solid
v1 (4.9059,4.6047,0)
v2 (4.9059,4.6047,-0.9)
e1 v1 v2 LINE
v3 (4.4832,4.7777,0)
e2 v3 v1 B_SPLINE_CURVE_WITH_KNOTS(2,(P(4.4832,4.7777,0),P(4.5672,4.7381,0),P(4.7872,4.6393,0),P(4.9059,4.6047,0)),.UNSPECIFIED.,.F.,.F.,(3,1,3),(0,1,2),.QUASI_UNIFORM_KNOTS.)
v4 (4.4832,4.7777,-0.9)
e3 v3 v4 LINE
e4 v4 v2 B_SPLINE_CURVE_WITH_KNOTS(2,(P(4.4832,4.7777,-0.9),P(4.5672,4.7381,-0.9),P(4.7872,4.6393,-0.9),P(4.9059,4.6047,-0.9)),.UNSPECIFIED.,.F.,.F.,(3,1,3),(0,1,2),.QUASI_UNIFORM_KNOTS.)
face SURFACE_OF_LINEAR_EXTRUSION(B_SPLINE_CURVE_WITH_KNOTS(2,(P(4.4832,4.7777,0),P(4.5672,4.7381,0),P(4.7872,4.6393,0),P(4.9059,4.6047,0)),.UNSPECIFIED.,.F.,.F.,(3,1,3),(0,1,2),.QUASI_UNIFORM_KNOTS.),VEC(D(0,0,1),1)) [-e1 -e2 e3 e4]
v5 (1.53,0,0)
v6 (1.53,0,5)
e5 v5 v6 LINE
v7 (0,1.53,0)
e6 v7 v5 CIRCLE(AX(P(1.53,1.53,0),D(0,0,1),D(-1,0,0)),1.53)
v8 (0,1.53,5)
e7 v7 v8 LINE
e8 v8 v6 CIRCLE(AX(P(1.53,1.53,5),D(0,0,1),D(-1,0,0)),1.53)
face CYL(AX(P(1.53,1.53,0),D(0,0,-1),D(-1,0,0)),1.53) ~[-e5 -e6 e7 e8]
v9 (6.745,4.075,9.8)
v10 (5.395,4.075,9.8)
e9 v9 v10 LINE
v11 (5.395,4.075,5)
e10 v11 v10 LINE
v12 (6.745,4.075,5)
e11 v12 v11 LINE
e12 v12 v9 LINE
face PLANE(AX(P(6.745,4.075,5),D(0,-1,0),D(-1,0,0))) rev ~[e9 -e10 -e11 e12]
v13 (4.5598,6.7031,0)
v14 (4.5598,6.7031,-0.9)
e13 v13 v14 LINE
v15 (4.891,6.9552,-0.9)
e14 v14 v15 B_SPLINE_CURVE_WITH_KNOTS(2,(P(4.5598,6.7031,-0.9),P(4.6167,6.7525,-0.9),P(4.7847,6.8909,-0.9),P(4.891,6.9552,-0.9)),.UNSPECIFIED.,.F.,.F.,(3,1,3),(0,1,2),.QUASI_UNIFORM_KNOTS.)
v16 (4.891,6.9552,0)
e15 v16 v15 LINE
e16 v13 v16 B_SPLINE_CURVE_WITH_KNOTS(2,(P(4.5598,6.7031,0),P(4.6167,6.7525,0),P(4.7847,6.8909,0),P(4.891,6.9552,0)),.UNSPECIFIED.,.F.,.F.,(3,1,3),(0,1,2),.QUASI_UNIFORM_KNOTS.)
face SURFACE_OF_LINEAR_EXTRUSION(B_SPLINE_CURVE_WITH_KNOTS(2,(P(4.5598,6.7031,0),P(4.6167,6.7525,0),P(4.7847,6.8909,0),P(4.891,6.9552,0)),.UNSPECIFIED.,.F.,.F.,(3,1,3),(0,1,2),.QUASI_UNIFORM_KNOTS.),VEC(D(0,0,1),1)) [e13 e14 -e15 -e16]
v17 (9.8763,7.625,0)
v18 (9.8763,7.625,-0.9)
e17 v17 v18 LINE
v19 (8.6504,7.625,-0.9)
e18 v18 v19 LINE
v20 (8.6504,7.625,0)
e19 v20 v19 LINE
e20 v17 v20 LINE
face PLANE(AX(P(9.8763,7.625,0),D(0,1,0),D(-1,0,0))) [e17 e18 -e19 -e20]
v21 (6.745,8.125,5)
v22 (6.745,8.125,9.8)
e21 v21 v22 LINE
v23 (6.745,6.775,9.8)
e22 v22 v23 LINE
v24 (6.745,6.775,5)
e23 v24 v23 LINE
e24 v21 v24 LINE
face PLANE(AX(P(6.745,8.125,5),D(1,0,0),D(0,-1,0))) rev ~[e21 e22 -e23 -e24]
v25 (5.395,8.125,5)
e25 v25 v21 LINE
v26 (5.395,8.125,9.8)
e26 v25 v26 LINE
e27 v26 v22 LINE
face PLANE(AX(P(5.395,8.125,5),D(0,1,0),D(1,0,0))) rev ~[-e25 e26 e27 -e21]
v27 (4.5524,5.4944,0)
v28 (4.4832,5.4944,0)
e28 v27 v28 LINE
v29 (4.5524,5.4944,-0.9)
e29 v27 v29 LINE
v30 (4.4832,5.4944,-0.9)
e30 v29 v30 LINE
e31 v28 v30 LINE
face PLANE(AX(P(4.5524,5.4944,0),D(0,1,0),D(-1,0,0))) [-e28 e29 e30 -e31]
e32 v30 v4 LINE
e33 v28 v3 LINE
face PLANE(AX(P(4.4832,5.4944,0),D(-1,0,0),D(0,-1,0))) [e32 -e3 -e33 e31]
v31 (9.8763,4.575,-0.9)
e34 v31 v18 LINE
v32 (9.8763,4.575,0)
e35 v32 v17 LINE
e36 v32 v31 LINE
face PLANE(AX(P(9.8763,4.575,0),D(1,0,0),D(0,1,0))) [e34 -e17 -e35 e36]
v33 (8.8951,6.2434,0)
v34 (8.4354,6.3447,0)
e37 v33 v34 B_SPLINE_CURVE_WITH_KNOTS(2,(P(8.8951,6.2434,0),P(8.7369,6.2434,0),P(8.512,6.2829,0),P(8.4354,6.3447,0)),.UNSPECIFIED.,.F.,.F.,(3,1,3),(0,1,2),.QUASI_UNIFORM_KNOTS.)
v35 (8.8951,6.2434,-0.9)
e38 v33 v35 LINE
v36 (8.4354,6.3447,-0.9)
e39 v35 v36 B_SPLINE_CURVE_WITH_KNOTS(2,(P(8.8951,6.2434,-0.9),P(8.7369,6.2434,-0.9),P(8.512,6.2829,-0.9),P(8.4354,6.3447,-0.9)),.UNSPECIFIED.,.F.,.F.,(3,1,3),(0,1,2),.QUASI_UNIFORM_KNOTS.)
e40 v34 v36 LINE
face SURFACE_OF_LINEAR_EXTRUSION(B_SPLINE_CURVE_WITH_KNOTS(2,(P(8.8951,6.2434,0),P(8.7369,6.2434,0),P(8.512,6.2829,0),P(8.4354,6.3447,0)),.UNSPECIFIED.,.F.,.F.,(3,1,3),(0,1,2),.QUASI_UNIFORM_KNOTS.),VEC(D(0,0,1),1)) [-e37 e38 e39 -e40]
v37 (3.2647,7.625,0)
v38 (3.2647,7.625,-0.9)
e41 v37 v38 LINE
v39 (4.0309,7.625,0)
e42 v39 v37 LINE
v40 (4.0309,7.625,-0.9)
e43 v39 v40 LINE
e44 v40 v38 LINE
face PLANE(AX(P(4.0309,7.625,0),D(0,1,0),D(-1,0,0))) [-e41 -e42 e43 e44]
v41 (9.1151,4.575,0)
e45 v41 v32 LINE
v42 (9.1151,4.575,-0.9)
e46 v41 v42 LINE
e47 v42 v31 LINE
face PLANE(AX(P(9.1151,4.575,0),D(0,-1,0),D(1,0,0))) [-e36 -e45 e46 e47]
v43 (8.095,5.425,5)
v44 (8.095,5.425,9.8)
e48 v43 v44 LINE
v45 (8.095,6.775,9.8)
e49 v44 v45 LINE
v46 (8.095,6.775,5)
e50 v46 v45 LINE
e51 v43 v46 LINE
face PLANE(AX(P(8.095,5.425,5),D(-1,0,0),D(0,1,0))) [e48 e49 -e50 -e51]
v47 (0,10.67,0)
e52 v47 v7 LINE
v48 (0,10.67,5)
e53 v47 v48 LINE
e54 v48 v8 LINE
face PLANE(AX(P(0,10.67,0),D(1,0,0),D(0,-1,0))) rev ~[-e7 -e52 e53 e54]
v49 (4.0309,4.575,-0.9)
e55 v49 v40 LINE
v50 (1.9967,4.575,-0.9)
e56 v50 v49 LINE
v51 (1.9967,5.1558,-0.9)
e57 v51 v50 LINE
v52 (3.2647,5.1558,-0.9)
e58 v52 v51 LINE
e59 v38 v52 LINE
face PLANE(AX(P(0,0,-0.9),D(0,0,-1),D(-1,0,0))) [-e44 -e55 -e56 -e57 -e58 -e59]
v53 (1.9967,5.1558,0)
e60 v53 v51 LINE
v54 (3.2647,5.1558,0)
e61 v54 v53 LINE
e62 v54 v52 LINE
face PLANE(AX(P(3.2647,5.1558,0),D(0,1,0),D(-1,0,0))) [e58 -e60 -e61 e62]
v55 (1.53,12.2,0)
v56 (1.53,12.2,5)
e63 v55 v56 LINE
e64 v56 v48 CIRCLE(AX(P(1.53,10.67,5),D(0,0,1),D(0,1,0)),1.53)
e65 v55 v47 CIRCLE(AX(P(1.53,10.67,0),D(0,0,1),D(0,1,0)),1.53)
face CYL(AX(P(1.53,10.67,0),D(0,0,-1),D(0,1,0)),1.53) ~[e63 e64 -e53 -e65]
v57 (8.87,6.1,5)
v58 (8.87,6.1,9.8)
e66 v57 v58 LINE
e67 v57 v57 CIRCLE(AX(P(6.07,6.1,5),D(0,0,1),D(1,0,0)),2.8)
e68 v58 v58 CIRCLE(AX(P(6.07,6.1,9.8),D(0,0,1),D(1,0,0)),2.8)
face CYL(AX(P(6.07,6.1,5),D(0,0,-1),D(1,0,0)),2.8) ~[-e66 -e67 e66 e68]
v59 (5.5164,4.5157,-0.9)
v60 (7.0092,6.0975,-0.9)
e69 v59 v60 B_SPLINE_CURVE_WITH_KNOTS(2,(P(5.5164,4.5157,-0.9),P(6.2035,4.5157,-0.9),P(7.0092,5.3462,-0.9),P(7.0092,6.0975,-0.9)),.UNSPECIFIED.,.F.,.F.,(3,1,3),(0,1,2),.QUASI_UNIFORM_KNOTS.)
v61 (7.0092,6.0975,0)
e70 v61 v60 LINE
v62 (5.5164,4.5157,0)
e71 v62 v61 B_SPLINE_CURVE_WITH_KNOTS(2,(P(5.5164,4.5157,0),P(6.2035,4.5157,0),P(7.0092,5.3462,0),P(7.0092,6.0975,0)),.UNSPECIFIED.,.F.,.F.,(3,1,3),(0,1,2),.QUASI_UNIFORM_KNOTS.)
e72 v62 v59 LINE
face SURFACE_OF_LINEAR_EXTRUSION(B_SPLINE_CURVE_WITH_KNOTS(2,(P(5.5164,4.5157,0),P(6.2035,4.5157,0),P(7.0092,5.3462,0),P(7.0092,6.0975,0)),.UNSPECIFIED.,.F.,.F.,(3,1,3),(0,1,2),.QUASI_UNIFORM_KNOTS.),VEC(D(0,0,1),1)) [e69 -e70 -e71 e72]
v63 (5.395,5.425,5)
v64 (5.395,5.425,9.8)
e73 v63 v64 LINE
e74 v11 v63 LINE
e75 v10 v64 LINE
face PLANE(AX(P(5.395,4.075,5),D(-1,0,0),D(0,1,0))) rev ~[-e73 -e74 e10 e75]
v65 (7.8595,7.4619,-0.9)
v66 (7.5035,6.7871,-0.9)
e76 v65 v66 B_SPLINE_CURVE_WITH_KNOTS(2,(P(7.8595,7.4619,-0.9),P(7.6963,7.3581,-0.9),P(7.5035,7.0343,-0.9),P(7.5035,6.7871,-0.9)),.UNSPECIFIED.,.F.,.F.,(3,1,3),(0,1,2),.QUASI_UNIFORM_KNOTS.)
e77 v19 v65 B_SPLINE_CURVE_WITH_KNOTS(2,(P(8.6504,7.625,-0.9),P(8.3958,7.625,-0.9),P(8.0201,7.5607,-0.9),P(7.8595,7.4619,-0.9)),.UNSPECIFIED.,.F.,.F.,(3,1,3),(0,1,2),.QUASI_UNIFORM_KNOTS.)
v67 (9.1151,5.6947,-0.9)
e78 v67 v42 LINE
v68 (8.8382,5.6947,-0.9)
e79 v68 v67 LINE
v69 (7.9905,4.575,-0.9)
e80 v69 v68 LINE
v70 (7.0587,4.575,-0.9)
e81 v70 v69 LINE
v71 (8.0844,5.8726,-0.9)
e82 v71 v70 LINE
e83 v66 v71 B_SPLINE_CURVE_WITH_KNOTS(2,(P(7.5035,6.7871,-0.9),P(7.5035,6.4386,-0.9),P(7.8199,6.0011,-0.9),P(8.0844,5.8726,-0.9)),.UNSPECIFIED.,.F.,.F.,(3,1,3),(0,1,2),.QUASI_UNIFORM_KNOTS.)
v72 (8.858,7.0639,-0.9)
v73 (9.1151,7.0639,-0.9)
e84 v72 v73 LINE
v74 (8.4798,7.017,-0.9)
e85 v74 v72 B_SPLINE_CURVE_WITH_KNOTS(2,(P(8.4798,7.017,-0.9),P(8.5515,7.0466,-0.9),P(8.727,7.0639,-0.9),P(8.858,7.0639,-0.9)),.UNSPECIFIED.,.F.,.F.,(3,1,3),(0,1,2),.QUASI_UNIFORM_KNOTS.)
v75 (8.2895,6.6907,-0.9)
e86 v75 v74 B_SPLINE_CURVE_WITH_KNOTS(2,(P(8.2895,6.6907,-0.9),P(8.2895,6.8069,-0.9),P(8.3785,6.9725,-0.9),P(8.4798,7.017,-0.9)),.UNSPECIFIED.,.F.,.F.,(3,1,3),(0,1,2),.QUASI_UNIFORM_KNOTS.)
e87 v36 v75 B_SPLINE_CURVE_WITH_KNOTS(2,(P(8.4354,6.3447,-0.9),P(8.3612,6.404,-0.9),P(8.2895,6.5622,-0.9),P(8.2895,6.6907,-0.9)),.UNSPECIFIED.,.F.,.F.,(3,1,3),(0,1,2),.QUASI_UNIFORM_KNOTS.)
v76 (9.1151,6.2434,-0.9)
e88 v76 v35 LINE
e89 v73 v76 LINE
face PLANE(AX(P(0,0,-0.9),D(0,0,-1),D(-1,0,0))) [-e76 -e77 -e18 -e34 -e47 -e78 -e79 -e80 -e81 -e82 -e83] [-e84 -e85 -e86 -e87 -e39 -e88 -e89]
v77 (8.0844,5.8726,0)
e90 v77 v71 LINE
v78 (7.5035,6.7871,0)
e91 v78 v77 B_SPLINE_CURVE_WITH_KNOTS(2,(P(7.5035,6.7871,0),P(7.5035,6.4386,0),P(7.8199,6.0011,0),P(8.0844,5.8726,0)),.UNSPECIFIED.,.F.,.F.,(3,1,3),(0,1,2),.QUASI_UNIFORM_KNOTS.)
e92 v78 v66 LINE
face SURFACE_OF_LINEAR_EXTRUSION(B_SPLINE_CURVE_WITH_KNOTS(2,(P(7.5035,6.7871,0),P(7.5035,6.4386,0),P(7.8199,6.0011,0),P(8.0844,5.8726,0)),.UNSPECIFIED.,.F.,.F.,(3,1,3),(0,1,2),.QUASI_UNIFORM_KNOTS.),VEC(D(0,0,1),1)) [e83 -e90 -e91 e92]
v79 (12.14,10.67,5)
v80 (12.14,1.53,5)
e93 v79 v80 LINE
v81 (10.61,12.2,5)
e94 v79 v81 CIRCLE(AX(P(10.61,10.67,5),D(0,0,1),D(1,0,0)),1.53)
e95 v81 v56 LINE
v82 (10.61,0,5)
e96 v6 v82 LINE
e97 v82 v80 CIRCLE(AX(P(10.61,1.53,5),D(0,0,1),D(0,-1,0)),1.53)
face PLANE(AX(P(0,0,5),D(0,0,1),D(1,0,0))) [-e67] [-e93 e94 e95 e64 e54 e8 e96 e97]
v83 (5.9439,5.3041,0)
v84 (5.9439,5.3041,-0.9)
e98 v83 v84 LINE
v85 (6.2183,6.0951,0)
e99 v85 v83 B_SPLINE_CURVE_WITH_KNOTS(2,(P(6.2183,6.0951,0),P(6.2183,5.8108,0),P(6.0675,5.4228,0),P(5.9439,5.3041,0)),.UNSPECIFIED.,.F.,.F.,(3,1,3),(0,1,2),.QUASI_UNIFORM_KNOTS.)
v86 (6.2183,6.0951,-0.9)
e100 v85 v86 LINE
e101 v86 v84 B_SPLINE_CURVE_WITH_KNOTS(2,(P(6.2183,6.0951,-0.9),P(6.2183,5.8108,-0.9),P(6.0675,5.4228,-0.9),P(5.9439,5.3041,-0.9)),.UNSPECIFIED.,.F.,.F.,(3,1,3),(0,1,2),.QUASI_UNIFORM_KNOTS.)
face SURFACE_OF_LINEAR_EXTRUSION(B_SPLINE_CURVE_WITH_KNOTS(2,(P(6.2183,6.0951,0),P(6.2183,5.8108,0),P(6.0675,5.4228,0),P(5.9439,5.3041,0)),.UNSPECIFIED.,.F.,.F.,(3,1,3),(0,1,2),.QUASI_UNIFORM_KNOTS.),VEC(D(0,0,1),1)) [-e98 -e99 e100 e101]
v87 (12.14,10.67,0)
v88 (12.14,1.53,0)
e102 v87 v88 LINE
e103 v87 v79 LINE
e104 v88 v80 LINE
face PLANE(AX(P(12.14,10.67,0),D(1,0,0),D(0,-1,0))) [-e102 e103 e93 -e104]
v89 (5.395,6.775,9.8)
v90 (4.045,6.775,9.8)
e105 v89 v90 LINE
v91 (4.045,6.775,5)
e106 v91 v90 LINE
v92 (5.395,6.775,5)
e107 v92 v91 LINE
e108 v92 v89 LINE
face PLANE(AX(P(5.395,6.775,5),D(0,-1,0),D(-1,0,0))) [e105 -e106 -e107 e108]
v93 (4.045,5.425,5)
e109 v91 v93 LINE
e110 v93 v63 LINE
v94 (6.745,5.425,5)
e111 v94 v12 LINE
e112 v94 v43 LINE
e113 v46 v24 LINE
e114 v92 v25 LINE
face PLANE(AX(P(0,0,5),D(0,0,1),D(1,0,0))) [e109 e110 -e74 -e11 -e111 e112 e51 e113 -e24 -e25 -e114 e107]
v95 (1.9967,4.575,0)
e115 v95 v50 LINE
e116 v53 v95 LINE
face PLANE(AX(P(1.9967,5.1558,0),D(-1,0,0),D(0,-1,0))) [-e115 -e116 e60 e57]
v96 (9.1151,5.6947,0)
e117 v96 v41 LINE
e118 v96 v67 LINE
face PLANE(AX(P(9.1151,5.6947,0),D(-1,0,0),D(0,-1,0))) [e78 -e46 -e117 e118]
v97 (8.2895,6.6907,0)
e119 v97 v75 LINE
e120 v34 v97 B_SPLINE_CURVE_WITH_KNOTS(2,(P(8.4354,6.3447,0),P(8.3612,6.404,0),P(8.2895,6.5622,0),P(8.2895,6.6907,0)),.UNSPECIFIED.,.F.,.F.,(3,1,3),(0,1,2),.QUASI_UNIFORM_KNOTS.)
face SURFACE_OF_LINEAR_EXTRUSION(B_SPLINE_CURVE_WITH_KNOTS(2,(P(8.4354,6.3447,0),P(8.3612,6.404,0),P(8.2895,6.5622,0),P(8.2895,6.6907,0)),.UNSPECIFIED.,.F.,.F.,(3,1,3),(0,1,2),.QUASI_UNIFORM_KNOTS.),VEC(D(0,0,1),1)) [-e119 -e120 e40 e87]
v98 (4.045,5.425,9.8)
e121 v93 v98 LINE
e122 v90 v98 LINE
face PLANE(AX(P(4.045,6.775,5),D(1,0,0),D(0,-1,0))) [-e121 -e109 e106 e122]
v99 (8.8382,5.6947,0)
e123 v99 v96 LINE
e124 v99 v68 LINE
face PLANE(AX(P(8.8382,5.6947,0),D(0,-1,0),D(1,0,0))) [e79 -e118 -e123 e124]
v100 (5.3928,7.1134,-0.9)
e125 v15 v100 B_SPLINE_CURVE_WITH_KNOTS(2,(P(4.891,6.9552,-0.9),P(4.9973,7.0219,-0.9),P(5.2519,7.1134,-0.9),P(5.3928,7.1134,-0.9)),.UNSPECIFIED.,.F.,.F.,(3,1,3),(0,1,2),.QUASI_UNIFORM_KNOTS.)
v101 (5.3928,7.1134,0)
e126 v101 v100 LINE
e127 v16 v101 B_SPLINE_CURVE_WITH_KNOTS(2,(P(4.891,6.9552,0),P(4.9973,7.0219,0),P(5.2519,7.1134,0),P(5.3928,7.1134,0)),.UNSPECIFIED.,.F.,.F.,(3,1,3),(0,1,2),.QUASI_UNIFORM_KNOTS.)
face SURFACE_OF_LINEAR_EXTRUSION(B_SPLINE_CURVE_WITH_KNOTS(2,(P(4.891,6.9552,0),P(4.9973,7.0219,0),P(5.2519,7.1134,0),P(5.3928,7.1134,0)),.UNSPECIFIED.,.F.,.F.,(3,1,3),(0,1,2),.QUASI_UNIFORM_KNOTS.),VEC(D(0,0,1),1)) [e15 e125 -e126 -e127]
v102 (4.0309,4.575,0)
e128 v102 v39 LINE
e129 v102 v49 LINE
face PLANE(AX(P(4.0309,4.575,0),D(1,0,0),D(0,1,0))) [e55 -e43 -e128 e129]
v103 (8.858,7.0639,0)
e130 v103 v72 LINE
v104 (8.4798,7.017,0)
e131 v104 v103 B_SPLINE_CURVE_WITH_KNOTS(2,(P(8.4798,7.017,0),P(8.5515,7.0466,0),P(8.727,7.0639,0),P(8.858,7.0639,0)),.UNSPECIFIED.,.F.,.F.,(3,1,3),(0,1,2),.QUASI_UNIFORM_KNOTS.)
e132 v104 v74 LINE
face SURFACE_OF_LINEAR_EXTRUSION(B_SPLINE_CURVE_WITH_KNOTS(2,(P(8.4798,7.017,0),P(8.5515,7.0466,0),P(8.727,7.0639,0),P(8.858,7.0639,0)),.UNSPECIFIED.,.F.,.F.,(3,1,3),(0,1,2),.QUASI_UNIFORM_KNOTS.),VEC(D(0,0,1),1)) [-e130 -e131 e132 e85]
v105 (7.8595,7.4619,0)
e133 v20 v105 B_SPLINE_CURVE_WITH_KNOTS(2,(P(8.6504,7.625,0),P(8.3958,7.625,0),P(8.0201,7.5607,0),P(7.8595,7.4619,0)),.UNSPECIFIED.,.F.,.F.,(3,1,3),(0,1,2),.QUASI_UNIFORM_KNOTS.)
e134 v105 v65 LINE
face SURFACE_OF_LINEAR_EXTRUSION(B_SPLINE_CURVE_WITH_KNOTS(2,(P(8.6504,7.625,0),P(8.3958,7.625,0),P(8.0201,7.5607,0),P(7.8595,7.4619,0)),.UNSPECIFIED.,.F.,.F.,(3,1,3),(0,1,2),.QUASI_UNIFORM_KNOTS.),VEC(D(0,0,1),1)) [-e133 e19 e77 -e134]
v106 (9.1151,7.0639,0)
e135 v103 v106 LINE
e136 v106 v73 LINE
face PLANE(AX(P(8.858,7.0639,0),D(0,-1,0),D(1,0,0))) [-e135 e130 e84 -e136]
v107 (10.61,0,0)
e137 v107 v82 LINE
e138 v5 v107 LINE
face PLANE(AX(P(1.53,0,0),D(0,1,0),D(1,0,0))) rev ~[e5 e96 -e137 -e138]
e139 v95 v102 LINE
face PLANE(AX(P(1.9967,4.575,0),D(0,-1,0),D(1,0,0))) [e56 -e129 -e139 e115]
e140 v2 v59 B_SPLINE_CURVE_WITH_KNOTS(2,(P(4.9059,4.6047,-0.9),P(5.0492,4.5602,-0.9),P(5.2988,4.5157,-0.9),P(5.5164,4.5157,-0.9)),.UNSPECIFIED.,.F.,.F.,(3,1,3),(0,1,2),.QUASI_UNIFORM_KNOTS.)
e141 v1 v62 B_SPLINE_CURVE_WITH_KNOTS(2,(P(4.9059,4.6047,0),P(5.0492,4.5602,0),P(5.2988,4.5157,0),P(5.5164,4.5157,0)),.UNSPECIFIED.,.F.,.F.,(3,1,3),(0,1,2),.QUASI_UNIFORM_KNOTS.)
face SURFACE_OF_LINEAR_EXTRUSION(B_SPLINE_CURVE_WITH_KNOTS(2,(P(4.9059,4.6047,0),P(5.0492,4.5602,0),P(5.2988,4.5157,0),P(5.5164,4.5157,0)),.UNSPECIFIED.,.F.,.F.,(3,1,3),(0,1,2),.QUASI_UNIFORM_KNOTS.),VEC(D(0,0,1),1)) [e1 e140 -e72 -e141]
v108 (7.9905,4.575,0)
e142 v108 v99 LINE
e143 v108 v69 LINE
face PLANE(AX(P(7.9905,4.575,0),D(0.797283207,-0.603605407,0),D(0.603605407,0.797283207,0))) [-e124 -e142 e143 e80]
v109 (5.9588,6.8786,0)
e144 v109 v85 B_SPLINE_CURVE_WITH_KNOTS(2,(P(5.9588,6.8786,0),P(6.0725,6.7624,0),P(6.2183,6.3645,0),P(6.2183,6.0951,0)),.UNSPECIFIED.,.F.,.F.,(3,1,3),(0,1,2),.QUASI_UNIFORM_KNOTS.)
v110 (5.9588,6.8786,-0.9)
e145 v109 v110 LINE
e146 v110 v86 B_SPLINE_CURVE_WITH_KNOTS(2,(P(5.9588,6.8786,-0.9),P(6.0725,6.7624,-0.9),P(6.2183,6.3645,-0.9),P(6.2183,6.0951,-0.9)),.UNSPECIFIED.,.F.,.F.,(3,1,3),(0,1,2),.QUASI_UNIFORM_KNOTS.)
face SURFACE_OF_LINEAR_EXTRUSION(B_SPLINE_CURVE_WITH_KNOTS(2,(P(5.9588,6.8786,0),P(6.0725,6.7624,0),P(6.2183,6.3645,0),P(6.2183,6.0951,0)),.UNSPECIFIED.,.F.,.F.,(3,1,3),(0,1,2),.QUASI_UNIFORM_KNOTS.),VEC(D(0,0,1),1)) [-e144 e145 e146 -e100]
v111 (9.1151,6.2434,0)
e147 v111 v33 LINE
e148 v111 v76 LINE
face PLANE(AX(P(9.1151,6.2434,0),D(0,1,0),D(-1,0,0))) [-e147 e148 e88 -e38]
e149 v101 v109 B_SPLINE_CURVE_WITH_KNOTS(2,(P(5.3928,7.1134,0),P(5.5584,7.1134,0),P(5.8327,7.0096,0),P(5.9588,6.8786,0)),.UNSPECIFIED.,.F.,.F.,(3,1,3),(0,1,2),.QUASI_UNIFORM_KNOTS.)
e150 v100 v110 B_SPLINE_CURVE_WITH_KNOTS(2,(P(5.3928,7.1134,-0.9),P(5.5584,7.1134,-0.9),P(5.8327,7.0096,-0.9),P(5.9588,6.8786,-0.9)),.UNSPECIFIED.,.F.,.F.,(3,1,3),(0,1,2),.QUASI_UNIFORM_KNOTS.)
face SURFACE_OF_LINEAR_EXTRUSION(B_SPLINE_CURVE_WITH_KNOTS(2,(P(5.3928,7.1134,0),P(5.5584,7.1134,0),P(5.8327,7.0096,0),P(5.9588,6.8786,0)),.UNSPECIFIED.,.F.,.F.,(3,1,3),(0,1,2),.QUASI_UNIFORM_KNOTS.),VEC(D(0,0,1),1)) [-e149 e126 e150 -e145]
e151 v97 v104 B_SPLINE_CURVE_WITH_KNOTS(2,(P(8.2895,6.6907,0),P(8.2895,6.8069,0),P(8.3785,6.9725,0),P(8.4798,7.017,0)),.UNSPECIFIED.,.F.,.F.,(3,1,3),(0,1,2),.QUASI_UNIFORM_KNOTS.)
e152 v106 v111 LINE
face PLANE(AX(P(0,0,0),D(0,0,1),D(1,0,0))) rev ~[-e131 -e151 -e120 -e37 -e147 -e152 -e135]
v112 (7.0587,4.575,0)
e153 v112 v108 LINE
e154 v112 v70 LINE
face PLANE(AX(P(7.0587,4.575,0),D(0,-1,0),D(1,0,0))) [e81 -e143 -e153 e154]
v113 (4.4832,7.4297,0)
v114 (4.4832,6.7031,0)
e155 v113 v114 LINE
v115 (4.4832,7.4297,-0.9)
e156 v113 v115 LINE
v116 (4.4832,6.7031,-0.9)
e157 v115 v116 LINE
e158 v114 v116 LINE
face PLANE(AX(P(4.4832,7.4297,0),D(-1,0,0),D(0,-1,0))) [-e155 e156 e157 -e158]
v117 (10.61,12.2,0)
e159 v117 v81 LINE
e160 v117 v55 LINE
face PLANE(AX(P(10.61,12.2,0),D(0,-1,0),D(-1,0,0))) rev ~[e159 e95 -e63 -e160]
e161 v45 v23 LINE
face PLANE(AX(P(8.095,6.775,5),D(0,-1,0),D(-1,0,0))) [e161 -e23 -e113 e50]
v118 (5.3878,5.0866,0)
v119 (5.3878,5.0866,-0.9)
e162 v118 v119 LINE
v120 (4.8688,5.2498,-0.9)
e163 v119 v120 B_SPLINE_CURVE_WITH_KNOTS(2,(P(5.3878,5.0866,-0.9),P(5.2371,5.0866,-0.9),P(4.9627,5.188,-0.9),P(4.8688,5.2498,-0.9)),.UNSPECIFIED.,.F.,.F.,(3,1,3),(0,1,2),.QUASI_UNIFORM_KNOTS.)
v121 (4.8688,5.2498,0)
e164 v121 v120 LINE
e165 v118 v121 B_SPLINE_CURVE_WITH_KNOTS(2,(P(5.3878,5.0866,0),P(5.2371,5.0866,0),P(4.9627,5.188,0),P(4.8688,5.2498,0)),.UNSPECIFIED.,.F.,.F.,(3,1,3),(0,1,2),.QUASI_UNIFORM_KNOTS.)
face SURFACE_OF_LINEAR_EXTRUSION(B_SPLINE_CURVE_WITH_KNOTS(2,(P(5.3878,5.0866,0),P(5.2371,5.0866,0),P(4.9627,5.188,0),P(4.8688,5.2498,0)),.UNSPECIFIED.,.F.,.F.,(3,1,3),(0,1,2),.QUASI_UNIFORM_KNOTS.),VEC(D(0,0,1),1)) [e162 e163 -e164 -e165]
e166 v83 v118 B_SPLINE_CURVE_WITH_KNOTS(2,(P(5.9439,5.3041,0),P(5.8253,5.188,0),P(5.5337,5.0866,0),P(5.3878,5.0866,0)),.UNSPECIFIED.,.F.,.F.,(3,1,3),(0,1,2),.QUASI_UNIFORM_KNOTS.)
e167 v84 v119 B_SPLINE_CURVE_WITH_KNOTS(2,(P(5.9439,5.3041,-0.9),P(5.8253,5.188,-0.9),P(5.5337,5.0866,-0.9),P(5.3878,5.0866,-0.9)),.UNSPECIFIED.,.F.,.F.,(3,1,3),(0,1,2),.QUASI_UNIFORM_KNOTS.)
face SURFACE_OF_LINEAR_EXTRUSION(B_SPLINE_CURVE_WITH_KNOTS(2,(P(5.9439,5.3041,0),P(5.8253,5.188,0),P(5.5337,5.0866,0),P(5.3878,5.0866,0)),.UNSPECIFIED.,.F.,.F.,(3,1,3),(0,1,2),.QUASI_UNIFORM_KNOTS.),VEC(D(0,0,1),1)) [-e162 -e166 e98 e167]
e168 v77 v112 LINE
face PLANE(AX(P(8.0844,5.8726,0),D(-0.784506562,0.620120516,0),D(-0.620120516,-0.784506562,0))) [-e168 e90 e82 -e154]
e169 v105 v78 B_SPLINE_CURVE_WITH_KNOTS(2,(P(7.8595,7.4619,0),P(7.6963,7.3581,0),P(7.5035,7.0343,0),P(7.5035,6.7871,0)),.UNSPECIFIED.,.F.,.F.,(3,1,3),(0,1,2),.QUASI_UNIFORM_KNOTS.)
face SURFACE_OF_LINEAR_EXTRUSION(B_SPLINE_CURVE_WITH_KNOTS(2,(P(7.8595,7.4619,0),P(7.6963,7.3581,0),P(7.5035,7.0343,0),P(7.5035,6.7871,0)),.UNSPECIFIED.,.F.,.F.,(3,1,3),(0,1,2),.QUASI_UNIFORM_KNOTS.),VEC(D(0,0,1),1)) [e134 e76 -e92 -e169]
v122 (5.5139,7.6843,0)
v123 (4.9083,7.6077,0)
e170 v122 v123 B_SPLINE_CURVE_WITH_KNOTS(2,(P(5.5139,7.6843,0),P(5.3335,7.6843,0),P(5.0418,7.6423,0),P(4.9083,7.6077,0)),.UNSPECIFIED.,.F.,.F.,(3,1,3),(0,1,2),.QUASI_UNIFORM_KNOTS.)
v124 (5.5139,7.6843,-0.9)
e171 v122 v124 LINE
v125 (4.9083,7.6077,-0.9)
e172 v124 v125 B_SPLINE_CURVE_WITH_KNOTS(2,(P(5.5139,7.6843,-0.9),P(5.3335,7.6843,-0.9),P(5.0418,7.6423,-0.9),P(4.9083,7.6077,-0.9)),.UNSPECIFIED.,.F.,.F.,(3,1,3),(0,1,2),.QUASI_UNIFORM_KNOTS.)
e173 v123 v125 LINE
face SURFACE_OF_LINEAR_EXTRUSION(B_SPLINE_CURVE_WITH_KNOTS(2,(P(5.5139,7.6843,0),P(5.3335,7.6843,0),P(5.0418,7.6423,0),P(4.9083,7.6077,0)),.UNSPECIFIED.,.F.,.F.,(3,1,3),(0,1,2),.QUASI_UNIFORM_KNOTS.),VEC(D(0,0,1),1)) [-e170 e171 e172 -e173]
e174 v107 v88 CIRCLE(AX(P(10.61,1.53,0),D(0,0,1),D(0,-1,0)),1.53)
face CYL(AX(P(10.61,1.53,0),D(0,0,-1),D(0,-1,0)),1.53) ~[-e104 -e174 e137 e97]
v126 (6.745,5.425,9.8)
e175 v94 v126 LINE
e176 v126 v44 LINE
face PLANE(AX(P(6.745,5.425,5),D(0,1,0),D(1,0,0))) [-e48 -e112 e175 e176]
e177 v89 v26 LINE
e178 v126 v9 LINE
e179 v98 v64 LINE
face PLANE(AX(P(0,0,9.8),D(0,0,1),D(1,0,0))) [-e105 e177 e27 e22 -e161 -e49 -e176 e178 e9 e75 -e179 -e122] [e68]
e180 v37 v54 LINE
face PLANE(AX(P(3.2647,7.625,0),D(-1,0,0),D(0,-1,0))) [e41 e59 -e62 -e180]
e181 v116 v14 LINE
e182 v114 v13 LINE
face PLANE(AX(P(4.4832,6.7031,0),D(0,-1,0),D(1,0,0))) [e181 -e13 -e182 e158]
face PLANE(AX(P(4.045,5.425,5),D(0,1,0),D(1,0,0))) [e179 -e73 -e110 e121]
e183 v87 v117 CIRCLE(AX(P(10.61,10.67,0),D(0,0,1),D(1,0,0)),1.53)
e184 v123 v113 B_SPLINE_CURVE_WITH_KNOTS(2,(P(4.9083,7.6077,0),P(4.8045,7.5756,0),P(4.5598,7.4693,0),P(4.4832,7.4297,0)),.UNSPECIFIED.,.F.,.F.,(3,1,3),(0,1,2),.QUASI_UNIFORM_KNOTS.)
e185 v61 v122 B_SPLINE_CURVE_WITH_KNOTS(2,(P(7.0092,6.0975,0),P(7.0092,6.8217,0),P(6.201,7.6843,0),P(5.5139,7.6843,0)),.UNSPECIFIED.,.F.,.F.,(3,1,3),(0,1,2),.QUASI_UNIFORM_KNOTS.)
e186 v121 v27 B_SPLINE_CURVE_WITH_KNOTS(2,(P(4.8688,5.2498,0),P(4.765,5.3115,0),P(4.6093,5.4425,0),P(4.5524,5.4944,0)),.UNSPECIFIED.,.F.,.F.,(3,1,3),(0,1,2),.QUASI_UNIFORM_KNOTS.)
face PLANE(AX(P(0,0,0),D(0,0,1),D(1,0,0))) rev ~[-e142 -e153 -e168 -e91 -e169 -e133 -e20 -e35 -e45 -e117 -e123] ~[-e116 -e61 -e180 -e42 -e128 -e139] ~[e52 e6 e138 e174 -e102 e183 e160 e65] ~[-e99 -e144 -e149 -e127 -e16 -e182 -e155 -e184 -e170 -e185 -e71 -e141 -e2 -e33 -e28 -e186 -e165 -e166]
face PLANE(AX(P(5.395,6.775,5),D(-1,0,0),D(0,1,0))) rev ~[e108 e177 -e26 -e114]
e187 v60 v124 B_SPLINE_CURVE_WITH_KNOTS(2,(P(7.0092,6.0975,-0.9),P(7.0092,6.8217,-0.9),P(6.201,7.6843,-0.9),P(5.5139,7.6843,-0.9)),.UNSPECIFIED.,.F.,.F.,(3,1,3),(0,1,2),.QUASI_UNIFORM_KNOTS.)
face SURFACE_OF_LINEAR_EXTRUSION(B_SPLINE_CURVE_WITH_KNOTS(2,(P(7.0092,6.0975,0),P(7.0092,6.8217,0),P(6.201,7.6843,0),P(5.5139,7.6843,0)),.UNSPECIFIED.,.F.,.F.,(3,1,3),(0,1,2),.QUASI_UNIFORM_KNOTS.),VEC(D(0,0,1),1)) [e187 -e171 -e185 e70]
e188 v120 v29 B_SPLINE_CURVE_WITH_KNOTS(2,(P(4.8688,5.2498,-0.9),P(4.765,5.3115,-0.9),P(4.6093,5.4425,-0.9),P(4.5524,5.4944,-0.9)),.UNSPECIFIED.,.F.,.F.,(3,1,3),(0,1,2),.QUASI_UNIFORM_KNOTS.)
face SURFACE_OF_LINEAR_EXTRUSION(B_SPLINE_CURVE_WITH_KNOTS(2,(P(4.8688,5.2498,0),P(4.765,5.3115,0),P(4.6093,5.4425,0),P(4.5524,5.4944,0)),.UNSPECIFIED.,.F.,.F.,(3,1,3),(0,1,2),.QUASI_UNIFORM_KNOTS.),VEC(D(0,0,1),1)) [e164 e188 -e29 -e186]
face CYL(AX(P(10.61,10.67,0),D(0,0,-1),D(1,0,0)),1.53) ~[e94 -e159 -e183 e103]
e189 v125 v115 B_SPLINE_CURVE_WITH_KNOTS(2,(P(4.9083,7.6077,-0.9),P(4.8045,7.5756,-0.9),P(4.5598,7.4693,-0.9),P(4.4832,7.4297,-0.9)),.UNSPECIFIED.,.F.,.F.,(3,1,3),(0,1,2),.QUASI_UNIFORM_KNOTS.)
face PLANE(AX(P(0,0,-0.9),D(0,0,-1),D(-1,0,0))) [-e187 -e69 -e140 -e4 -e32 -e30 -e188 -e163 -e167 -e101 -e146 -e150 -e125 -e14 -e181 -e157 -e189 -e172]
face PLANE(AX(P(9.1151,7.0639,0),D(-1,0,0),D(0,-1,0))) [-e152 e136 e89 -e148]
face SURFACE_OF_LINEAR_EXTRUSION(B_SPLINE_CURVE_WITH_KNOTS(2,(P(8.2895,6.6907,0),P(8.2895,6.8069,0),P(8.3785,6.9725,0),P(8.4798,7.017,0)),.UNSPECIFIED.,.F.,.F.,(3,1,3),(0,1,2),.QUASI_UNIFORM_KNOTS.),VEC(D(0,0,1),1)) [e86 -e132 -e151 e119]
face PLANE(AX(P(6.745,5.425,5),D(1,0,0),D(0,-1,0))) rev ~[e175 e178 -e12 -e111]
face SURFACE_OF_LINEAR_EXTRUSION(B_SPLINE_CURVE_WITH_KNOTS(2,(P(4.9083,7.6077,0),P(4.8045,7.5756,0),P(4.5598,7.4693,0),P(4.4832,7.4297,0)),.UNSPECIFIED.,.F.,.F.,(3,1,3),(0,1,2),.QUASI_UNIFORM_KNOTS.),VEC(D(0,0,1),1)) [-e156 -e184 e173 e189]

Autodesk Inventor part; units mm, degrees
ref_plane "YZ Plane" through (0, 0, 0) normal (1, 0, 0) x (0, 1, 0)
ref_plane "XZ Plane" through (0, 0, 0) normal (0, 1, 0) x (-1, 0, 0)
sketch "Sketch1" plane through (0, 0, 0) normal (0, 0, 1) x (1, 0, 0)
  line L0 (14.6962, 12.74) -> (14.6962, 0) construction
  line L1 (10.61, 12.2) -> (1.53, 12.2)
  arc A0 (1.53, 12.2) -> (0, 10.67) centre (1.53, 10.67) ccw
  line L2 (0, 10.67) -> (0, 1.53)
  arc A1 (0, 1.53) -> (1.53, 0) centre (1.53, 1.53) ccw
  line L3 (1.53, 0) -> (10.61, 0)
  arc A2 (10.61, 0) -> (12.14, 1.53) centre (10.61, 1.53) ccw
  arc A3 (12.14, 10.67) -> (10.61, 12.2) centre (10.61, 10.67) ccw
  line L4 (12.14, 10.67) -> (12.14, 1.53)
  point P0 (0, 0)
  point P1 (0, 0)
  dimension "d10" = 12.74
ref_plane "Work Plane1" through (0, 0, 5) normal (0, 0, 1) x (1, 0, 0)
sketch "Sketch2" plane through (0, 0, 5) normal (0, 0, 1) x (1, 0, 0)
  line L0 (10.88, 12.74) -> (1.8, 12.74) projected
  line L1 (10.88, 12.74) -> (1.8, 12.74) projected
  arc A0 (1.8, 12.74) -> (0, 10.94) centre (1.8, 10.94) ccw projected
  line L2 (0, 10.94) -> (0, 1.8) projected
  arc A1 (0, 1.8) -> (1.8, 0) centre (1.8, 1.8) ccw projected
  line L3 (1.8, 0) -> (10.88, 0) projected
  arc A2 (10.88, 0) -> (12.68, 1.8) centre (10.88, 1.8) ccw projected
  line L4 (12.68, 1.8) -> (12.68, 10.94) projected
  arc A3 (12.68, 10.94) -> (10.88, 12.74) centre (10.88, 10.94) ccw projected
  circle A4 centre (6.34, 6.37) radius 2.8
  line L5 (5.665, 8.395) -> (7.015, 8.395)
  line L6 (7.015, 4.345) -> (5.665, 4.345)
  line L7 (5.665, 4.345) -> (7.015, 8.395) construction
  line L8 (5.665, 8.395) -> (7.015, 4.345) construction
  line L9 (8.365, 5.695) -> (8.365, 7.045)
  line L10 (4.315, 7.045) -> (4.315, 5.695)
  line L11 (4.315, 5.695) -> (8.365, 7.045) construction
  line L12 (8.365, 5.695) -> (4.315, 7.045) construction
  line L13 (4.315, 5.695) -> (5.665, 5.695)
  line L14 (7.015, 5.695) -> (8.365, 5.695)
  line L15 (5.665, 4.345) -> (5.665, 5.695)
  line L16 (5.665, 7.045) -> (5.665, 8.395)
  line L17 (8.365, 7.045) -> (7.015, 7.045)
  line L18 (5.665, 7.045) -> (4.315, 7.045)
  line L19 (7.015, 8.395) -> (7.015, 7.045)
  line L20 (7.015, 5.695) -> (7.015, 4.345)
  point P0 (0, 0)
  dimension "d3" = 5.6
  dimension "d4" = 4.05
  dimension "d5" = 1.35
  dimension "d6" = 4.05
  dimension "d7" = 1.35
extrude "Extrusion3" add sketch "Sketch1" along normal blind 5
sketch "Sketch3" plane through (0, 0, 5) normal (0, 0, 1) x (1, 0, 0)
  line L0 (10.61, 12.47) -> (1.53, 12.47)
  line L1 (10.61, 12.47) -> (1.53, 12.47)
  arc A0 (1.53, 12.47) -> (-0.27, 10.67) centre (1.53, 10.67) ccw
  line L2 (-0.27, 10.67) -> (-0.27, 1.53)
  arc A1 (-0.27, 1.53) -> (1.53, -0.27) centre (1.53, 1.53) ccw
  line L3 (1.53, -0.27) -> (10.61, -0.27)
  arc A2 (10.61, -0.27) -> (12.41, 1.53) centre (10.61, 1.53) ccw
  line L4 (12.41, 1.53) -> (12.41, 10.67)
  arc A3 (12.41, 10.67) -> (10.61, 12.47) centre (10.61, 10.67) ccw
  circle A4 centre (6.07, 6.1) radius 2.8
  line L5 (5.395, 8.125) -> (6.745, 8.125)
  line L6 (6.745, 4.075) -> (5.395, 4.075)
  line L7 (5.395, 4.075) -> (6.745, 8.125) construction
  line L8 (5.395, 8.125) -> (6.745, 4.075) construction
  line L9 (8.095, 5.425) -> (8.095, 6.775)
  line L10 (4.045, 6.775) -> (4.045, 5.425)
  line L11 (4.045, 5.425) -> (8.095, 6.775) construction
  line L12 (8.095, 5.425) -> (4.045, 6.775) construction
  line L13 (4.045, 5.425) -> (5.395, 5.425)
  line L14 (6.745, 5.425) -> (8.095, 5.425)
  line L15 (5.395, 4.075) -> (5.395, 5.425)
  line L16 (5.395, 6.775) -> (5.395, 8.125)
  line L17 (8.095, 6.775) -> (6.745, 6.775)
  line L18 (5.395, 6.775) -> (4.045, 6.775)
  line L19 (6.745, 8.125) -> (6.745, 6.775)
  line L20 (6.745, 5.425) -> (6.745, 4.075)
  line L21 (10.61, 12.2) -> (1.53, 12.2) projected
  line L22 (0, 10.67) -> (0, 1.53) projected
  point P0 (0, 0)
  point P1 (-0.27, -0.27)
  point P2 (6.07, 12.2)
  point P3 (0, 6.1)
  point P4 (6.07, 6.1)
  dimension "d14" = 5.6
  dimension "d15" = 4.05
  dimension "d16" = 1.35
  dimension "d17" = 4.05
  dimension "d18" = 1.35
extrude "Extrusion4" add sketch "Sketch3" along normal blind 4.8 contours A4
sketch "Sketch4" plane through (0, 0, 0) normal (0, 0, -1) x (-1, 0, 0)
  line L0 (-13.9436, 0) -> (-13.9436, 2.266)
  line L1 (-15.5559, 0) -> (-15.5559, 6.84)
  line L2 (-1.53, 0) -> (-10.61, 0) projected
  line L3 (-10.1927, 7.6843) -> (-1.9473, 7.6843) construction
  line L4 (-1.9473, 7.6843) -> (-1.9473, 4.5157) construction
  line L5 (-1.9473, 4.5157) -> (-10.1927, 4.5157) construction
  line L6 (-10.1927, 4.5157) -> (-10.1927, 7.6843) construction
  line L7 (-7.0587, 4.575) -> (-7.9905, 4.575)
  line L8 (-7.9905, 4.575) -> (-8.8382, 5.6947)
  line L9 (-8.8382, 5.6947) -> (-9.1151, 5.6947)
  line L10 (-9.1151, 5.6947) -> (-9.1151, 4.575)
  line L11 (-9.1151, 4.575) -> (-9.8763, 4.575)
  line L12 (-9.8763, 4.575) -> (-9.8763, 7.625)
  line L13 (-9.8763, 7.625) -> (-8.6504, 7.625)
  spline S0 degree 2 poles (-8.6504, 7.625) (-8.3958, 7.625) (-8.0201, 7.5607) (-7.8595, 7.4619) knots 0 0 0 1 2 2 2
  spline S1 degree 2 poles (-7.8595, 7.4619) (-7.6963, 7.3581) (-7.5035, 7.0343) (-7.5035, 6.7871) knots 0 0 0 1 2 2 2
  spline S2 degree 2 poles (-7.5035, 6.7871) (-7.5035, 6.4386) (-7.8199, 6.0011) (-8.0844, 5.8726) knots 0 0 0 1 2 2 2
  line L14 (-8.0844, 5.8726) -> (-7.0587, 4.575)
  spline S3 degree 2 poles (-8.2895, 6.6907) (-8.2895, 6.8069) (-8.3785, 6.9725) (-8.4798, 7.017) knots 0 0 0 1 2 2 2
  spline S4 degree 2 poles (-8.4798, 7.017) (-8.5515, 7.0466) (-8.727, 7.0639) (-8.858, 7.0639) knots 0 0 0 1 2 2 2
  line L15 (-8.858, 7.0639) -> (-9.1151, 7.0639)
  line L16 (-9.1151, 7.0639) -> (-9.1151, 6.2434)
  line L17 (-9.1151, 6.2434) -> (-8.8951, 6.2434)
  spline S5 degree 2 poles (-8.8951, 6.2434) (-8.7369, 6.2434) (-8.512, 6.2829) (-8.4354, 6.3447) knots 0 0 0 1 2 2 2
  spline S6 degree 2 poles (-8.4354, 6.3447) (-8.3612, 6.404) (-8.2895, 6.5622) (-8.2895, 6.6907) knots 0 0 0 1 2 2 2
  spline S7 degree 2 poles (-5.5164, 4.5157) (-6.2035, 4.5157) (-7.0092, 5.3462) (-7.0092, 6.0975) knots 0 0 0 1 2 2 2
  spline S8 degree 2 poles (-7.0092, 6.0975) (-7.0092, 6.8217) (-6.201, 7.6843) (-5.5139, 7.6843) knots 0 0 0 1 2 2 2
  spline S9 degree 2 poles (-5.5139, 7.6843) (-5.3335, 7.6843) (-5.0418, 7.6423) (-4.9083, 7.6077) knots 0 0 0 1 2 2 2
  spline S10 degree 2 poles (-4.9083, 7.6077) (-4.8045, 7.5756) (-4.5598, 7.4693) (-4.4832, 7.4297) knots 0 0 0 1 2 2 2
  line L18 (-4.4832, 7.4297) -> (-4.4832, 6.7031)
  line L19 (-4.4832, 6.7031) -> (-4.5598, 6.7031)
  spline S11 degree 2 poles (-4.5598, 6.7031) (-4.6167, 6.7525) (-4.7847, 6.8909) (-4.891, 6.9552) knots 0 0 0 1 2 2 2
  spline S12 degree 2 poles (-4.891, 6.9552) (-4.9973, 7.0219) (-5.2519, 7.1134) (-5.3928, 7.1134) knots 0 0 0 1 2 2 2
  spline S13 degree 2 poles (-5.3928, 7.1134) (-5.5584, 7.1134) (-5.8327, 7.0096) (-5.9588, 6.8786) knots 0 0 0 1 2 2 2
  spline S14 degree 2 poles (-5.9588, 6.8786) (-6.0725, 6.7624) (-6.2183, 6.3645) (-6.2183, 6.0951) knots 0 0 0 1 2 2 2
  spline S15 degree 2 poles (-6.2183, 6.0951) (-6.2183, 5.8108) (-6.0675, 5.4228) (-5.9439, 5.3041) knots 0 0 0 1 2 2 2
  spline S16 degree 2 poles (-5.9439, 5.3041) (-5.8253, 5.188) (-5.5337, 5.0866) (-5.3878, 5.0866) knots 0 0 0 1 2 2 2
  spline S17 degree 2 poles (-5.3878, 5.0866) (-5.2371, 5.0866) (-4.9627, 5.188) (-4.8688, 5.2498) knots 0 0 0 1 2 2 2
  spline S18 degree 2 poles (-4.8688, 5.2498) (-4.765, 5.3115) (-4.6093, 5.4425) (-4.5524, 5.4944) knots 0 0 0 1 2 2 2
  line L20 (-4.5524, 5.4944) -> (-4.4832, 5.4944)
  line L21 (-4.4832, 5.4944) -> (-4.4832, 4.7777)
  spline S19 degree 2 poles (-4.4832, 4.7777) (-4.5672, 4.7381) (-4.7872, 4.6393) (-4.9059, 4.6047) knots 0 0 0 1 2 2 2
  spline S20 degree 2 poles (-4.9059, 4.6047) (-5.0492, 4.5602) (-5.2988, 4.5157) (-5.5164, 4.5157) knots 0 0 0 1 2 2 2
  line L22 (-1.9967, 4.575) -> (-4.0309, 4.575)
  line L23 (-4.0309, 4.575) -> (-4.0309, 7.625)
  line L24 (-4.0309, 7.625) -> (-3.2647, 7.625)
  line L25 (-3.2647, 7.625) -> (-3.2647, 5.1558)
  line L26 (-3.2647, 5.1558) -> (-1.9967, 5.1558)
  line L27 (-1.9967, 5.1558) -> (-1.9967, 4.575)
  point P0 (0, 0)
  point P1 (-6.07, 0)
  point P2 (-6.07, 2.266)
  point P3 (-6.07, 6.1)
  point P4 (-6.07, 6.84)
  point P5 (-6.07, 4.5157)
  point P6 (-1.9473, 6.1)
  point P7 (-6.07, 6.1)
  dimension "d21" = 2.266
  dimension "d22" = 6.84
extrude "Extrusion5" add sketch "Sketch4" along normal blind 0.9
sketch "Sketch5" plane through (6.07, 6.1, 9.8) normal (0, 0, 1) x (1, 0, 0)
  circle A0 centre (0, 0) radius 2.8 projected
  line L0 (-0.675, 0.675) -> (-0.675, 2.025) projected
  line L1 (-0.675, 2.025) -> (0.675, 2.025) projected
  line L2 (0.675, 2.025) -> (0.675, 0.675) projected
  line L3 (0.675, 0.675) -> (2.025, 0.675) projected
  line L4 (2.025, 0.675) -> (2.025, -0.675) projected
  line L5 (2.025, -0.675) -> (0.675, -0.675) projected
  line L6 (0.675, -0.675) -> (0.675, -2.025) projected
  line L7 (0.675, -2.025) -> (-0.675, -2.025) projected
  line L8 (-0.675, -2.025) -> (-0.675, -0.675) projected
  line L9 (-0.675, -0.675) -> (-2.025, -0.675) projected
  line L10 (-2.025, -0.675) -> (-2.025, 0.675) projected
  line L11 (-2.025, 0.675) -> (-0.675, 0.675) projected
  point P0 (-6.07, -6.1)
properties part number "IPC RCL key"
